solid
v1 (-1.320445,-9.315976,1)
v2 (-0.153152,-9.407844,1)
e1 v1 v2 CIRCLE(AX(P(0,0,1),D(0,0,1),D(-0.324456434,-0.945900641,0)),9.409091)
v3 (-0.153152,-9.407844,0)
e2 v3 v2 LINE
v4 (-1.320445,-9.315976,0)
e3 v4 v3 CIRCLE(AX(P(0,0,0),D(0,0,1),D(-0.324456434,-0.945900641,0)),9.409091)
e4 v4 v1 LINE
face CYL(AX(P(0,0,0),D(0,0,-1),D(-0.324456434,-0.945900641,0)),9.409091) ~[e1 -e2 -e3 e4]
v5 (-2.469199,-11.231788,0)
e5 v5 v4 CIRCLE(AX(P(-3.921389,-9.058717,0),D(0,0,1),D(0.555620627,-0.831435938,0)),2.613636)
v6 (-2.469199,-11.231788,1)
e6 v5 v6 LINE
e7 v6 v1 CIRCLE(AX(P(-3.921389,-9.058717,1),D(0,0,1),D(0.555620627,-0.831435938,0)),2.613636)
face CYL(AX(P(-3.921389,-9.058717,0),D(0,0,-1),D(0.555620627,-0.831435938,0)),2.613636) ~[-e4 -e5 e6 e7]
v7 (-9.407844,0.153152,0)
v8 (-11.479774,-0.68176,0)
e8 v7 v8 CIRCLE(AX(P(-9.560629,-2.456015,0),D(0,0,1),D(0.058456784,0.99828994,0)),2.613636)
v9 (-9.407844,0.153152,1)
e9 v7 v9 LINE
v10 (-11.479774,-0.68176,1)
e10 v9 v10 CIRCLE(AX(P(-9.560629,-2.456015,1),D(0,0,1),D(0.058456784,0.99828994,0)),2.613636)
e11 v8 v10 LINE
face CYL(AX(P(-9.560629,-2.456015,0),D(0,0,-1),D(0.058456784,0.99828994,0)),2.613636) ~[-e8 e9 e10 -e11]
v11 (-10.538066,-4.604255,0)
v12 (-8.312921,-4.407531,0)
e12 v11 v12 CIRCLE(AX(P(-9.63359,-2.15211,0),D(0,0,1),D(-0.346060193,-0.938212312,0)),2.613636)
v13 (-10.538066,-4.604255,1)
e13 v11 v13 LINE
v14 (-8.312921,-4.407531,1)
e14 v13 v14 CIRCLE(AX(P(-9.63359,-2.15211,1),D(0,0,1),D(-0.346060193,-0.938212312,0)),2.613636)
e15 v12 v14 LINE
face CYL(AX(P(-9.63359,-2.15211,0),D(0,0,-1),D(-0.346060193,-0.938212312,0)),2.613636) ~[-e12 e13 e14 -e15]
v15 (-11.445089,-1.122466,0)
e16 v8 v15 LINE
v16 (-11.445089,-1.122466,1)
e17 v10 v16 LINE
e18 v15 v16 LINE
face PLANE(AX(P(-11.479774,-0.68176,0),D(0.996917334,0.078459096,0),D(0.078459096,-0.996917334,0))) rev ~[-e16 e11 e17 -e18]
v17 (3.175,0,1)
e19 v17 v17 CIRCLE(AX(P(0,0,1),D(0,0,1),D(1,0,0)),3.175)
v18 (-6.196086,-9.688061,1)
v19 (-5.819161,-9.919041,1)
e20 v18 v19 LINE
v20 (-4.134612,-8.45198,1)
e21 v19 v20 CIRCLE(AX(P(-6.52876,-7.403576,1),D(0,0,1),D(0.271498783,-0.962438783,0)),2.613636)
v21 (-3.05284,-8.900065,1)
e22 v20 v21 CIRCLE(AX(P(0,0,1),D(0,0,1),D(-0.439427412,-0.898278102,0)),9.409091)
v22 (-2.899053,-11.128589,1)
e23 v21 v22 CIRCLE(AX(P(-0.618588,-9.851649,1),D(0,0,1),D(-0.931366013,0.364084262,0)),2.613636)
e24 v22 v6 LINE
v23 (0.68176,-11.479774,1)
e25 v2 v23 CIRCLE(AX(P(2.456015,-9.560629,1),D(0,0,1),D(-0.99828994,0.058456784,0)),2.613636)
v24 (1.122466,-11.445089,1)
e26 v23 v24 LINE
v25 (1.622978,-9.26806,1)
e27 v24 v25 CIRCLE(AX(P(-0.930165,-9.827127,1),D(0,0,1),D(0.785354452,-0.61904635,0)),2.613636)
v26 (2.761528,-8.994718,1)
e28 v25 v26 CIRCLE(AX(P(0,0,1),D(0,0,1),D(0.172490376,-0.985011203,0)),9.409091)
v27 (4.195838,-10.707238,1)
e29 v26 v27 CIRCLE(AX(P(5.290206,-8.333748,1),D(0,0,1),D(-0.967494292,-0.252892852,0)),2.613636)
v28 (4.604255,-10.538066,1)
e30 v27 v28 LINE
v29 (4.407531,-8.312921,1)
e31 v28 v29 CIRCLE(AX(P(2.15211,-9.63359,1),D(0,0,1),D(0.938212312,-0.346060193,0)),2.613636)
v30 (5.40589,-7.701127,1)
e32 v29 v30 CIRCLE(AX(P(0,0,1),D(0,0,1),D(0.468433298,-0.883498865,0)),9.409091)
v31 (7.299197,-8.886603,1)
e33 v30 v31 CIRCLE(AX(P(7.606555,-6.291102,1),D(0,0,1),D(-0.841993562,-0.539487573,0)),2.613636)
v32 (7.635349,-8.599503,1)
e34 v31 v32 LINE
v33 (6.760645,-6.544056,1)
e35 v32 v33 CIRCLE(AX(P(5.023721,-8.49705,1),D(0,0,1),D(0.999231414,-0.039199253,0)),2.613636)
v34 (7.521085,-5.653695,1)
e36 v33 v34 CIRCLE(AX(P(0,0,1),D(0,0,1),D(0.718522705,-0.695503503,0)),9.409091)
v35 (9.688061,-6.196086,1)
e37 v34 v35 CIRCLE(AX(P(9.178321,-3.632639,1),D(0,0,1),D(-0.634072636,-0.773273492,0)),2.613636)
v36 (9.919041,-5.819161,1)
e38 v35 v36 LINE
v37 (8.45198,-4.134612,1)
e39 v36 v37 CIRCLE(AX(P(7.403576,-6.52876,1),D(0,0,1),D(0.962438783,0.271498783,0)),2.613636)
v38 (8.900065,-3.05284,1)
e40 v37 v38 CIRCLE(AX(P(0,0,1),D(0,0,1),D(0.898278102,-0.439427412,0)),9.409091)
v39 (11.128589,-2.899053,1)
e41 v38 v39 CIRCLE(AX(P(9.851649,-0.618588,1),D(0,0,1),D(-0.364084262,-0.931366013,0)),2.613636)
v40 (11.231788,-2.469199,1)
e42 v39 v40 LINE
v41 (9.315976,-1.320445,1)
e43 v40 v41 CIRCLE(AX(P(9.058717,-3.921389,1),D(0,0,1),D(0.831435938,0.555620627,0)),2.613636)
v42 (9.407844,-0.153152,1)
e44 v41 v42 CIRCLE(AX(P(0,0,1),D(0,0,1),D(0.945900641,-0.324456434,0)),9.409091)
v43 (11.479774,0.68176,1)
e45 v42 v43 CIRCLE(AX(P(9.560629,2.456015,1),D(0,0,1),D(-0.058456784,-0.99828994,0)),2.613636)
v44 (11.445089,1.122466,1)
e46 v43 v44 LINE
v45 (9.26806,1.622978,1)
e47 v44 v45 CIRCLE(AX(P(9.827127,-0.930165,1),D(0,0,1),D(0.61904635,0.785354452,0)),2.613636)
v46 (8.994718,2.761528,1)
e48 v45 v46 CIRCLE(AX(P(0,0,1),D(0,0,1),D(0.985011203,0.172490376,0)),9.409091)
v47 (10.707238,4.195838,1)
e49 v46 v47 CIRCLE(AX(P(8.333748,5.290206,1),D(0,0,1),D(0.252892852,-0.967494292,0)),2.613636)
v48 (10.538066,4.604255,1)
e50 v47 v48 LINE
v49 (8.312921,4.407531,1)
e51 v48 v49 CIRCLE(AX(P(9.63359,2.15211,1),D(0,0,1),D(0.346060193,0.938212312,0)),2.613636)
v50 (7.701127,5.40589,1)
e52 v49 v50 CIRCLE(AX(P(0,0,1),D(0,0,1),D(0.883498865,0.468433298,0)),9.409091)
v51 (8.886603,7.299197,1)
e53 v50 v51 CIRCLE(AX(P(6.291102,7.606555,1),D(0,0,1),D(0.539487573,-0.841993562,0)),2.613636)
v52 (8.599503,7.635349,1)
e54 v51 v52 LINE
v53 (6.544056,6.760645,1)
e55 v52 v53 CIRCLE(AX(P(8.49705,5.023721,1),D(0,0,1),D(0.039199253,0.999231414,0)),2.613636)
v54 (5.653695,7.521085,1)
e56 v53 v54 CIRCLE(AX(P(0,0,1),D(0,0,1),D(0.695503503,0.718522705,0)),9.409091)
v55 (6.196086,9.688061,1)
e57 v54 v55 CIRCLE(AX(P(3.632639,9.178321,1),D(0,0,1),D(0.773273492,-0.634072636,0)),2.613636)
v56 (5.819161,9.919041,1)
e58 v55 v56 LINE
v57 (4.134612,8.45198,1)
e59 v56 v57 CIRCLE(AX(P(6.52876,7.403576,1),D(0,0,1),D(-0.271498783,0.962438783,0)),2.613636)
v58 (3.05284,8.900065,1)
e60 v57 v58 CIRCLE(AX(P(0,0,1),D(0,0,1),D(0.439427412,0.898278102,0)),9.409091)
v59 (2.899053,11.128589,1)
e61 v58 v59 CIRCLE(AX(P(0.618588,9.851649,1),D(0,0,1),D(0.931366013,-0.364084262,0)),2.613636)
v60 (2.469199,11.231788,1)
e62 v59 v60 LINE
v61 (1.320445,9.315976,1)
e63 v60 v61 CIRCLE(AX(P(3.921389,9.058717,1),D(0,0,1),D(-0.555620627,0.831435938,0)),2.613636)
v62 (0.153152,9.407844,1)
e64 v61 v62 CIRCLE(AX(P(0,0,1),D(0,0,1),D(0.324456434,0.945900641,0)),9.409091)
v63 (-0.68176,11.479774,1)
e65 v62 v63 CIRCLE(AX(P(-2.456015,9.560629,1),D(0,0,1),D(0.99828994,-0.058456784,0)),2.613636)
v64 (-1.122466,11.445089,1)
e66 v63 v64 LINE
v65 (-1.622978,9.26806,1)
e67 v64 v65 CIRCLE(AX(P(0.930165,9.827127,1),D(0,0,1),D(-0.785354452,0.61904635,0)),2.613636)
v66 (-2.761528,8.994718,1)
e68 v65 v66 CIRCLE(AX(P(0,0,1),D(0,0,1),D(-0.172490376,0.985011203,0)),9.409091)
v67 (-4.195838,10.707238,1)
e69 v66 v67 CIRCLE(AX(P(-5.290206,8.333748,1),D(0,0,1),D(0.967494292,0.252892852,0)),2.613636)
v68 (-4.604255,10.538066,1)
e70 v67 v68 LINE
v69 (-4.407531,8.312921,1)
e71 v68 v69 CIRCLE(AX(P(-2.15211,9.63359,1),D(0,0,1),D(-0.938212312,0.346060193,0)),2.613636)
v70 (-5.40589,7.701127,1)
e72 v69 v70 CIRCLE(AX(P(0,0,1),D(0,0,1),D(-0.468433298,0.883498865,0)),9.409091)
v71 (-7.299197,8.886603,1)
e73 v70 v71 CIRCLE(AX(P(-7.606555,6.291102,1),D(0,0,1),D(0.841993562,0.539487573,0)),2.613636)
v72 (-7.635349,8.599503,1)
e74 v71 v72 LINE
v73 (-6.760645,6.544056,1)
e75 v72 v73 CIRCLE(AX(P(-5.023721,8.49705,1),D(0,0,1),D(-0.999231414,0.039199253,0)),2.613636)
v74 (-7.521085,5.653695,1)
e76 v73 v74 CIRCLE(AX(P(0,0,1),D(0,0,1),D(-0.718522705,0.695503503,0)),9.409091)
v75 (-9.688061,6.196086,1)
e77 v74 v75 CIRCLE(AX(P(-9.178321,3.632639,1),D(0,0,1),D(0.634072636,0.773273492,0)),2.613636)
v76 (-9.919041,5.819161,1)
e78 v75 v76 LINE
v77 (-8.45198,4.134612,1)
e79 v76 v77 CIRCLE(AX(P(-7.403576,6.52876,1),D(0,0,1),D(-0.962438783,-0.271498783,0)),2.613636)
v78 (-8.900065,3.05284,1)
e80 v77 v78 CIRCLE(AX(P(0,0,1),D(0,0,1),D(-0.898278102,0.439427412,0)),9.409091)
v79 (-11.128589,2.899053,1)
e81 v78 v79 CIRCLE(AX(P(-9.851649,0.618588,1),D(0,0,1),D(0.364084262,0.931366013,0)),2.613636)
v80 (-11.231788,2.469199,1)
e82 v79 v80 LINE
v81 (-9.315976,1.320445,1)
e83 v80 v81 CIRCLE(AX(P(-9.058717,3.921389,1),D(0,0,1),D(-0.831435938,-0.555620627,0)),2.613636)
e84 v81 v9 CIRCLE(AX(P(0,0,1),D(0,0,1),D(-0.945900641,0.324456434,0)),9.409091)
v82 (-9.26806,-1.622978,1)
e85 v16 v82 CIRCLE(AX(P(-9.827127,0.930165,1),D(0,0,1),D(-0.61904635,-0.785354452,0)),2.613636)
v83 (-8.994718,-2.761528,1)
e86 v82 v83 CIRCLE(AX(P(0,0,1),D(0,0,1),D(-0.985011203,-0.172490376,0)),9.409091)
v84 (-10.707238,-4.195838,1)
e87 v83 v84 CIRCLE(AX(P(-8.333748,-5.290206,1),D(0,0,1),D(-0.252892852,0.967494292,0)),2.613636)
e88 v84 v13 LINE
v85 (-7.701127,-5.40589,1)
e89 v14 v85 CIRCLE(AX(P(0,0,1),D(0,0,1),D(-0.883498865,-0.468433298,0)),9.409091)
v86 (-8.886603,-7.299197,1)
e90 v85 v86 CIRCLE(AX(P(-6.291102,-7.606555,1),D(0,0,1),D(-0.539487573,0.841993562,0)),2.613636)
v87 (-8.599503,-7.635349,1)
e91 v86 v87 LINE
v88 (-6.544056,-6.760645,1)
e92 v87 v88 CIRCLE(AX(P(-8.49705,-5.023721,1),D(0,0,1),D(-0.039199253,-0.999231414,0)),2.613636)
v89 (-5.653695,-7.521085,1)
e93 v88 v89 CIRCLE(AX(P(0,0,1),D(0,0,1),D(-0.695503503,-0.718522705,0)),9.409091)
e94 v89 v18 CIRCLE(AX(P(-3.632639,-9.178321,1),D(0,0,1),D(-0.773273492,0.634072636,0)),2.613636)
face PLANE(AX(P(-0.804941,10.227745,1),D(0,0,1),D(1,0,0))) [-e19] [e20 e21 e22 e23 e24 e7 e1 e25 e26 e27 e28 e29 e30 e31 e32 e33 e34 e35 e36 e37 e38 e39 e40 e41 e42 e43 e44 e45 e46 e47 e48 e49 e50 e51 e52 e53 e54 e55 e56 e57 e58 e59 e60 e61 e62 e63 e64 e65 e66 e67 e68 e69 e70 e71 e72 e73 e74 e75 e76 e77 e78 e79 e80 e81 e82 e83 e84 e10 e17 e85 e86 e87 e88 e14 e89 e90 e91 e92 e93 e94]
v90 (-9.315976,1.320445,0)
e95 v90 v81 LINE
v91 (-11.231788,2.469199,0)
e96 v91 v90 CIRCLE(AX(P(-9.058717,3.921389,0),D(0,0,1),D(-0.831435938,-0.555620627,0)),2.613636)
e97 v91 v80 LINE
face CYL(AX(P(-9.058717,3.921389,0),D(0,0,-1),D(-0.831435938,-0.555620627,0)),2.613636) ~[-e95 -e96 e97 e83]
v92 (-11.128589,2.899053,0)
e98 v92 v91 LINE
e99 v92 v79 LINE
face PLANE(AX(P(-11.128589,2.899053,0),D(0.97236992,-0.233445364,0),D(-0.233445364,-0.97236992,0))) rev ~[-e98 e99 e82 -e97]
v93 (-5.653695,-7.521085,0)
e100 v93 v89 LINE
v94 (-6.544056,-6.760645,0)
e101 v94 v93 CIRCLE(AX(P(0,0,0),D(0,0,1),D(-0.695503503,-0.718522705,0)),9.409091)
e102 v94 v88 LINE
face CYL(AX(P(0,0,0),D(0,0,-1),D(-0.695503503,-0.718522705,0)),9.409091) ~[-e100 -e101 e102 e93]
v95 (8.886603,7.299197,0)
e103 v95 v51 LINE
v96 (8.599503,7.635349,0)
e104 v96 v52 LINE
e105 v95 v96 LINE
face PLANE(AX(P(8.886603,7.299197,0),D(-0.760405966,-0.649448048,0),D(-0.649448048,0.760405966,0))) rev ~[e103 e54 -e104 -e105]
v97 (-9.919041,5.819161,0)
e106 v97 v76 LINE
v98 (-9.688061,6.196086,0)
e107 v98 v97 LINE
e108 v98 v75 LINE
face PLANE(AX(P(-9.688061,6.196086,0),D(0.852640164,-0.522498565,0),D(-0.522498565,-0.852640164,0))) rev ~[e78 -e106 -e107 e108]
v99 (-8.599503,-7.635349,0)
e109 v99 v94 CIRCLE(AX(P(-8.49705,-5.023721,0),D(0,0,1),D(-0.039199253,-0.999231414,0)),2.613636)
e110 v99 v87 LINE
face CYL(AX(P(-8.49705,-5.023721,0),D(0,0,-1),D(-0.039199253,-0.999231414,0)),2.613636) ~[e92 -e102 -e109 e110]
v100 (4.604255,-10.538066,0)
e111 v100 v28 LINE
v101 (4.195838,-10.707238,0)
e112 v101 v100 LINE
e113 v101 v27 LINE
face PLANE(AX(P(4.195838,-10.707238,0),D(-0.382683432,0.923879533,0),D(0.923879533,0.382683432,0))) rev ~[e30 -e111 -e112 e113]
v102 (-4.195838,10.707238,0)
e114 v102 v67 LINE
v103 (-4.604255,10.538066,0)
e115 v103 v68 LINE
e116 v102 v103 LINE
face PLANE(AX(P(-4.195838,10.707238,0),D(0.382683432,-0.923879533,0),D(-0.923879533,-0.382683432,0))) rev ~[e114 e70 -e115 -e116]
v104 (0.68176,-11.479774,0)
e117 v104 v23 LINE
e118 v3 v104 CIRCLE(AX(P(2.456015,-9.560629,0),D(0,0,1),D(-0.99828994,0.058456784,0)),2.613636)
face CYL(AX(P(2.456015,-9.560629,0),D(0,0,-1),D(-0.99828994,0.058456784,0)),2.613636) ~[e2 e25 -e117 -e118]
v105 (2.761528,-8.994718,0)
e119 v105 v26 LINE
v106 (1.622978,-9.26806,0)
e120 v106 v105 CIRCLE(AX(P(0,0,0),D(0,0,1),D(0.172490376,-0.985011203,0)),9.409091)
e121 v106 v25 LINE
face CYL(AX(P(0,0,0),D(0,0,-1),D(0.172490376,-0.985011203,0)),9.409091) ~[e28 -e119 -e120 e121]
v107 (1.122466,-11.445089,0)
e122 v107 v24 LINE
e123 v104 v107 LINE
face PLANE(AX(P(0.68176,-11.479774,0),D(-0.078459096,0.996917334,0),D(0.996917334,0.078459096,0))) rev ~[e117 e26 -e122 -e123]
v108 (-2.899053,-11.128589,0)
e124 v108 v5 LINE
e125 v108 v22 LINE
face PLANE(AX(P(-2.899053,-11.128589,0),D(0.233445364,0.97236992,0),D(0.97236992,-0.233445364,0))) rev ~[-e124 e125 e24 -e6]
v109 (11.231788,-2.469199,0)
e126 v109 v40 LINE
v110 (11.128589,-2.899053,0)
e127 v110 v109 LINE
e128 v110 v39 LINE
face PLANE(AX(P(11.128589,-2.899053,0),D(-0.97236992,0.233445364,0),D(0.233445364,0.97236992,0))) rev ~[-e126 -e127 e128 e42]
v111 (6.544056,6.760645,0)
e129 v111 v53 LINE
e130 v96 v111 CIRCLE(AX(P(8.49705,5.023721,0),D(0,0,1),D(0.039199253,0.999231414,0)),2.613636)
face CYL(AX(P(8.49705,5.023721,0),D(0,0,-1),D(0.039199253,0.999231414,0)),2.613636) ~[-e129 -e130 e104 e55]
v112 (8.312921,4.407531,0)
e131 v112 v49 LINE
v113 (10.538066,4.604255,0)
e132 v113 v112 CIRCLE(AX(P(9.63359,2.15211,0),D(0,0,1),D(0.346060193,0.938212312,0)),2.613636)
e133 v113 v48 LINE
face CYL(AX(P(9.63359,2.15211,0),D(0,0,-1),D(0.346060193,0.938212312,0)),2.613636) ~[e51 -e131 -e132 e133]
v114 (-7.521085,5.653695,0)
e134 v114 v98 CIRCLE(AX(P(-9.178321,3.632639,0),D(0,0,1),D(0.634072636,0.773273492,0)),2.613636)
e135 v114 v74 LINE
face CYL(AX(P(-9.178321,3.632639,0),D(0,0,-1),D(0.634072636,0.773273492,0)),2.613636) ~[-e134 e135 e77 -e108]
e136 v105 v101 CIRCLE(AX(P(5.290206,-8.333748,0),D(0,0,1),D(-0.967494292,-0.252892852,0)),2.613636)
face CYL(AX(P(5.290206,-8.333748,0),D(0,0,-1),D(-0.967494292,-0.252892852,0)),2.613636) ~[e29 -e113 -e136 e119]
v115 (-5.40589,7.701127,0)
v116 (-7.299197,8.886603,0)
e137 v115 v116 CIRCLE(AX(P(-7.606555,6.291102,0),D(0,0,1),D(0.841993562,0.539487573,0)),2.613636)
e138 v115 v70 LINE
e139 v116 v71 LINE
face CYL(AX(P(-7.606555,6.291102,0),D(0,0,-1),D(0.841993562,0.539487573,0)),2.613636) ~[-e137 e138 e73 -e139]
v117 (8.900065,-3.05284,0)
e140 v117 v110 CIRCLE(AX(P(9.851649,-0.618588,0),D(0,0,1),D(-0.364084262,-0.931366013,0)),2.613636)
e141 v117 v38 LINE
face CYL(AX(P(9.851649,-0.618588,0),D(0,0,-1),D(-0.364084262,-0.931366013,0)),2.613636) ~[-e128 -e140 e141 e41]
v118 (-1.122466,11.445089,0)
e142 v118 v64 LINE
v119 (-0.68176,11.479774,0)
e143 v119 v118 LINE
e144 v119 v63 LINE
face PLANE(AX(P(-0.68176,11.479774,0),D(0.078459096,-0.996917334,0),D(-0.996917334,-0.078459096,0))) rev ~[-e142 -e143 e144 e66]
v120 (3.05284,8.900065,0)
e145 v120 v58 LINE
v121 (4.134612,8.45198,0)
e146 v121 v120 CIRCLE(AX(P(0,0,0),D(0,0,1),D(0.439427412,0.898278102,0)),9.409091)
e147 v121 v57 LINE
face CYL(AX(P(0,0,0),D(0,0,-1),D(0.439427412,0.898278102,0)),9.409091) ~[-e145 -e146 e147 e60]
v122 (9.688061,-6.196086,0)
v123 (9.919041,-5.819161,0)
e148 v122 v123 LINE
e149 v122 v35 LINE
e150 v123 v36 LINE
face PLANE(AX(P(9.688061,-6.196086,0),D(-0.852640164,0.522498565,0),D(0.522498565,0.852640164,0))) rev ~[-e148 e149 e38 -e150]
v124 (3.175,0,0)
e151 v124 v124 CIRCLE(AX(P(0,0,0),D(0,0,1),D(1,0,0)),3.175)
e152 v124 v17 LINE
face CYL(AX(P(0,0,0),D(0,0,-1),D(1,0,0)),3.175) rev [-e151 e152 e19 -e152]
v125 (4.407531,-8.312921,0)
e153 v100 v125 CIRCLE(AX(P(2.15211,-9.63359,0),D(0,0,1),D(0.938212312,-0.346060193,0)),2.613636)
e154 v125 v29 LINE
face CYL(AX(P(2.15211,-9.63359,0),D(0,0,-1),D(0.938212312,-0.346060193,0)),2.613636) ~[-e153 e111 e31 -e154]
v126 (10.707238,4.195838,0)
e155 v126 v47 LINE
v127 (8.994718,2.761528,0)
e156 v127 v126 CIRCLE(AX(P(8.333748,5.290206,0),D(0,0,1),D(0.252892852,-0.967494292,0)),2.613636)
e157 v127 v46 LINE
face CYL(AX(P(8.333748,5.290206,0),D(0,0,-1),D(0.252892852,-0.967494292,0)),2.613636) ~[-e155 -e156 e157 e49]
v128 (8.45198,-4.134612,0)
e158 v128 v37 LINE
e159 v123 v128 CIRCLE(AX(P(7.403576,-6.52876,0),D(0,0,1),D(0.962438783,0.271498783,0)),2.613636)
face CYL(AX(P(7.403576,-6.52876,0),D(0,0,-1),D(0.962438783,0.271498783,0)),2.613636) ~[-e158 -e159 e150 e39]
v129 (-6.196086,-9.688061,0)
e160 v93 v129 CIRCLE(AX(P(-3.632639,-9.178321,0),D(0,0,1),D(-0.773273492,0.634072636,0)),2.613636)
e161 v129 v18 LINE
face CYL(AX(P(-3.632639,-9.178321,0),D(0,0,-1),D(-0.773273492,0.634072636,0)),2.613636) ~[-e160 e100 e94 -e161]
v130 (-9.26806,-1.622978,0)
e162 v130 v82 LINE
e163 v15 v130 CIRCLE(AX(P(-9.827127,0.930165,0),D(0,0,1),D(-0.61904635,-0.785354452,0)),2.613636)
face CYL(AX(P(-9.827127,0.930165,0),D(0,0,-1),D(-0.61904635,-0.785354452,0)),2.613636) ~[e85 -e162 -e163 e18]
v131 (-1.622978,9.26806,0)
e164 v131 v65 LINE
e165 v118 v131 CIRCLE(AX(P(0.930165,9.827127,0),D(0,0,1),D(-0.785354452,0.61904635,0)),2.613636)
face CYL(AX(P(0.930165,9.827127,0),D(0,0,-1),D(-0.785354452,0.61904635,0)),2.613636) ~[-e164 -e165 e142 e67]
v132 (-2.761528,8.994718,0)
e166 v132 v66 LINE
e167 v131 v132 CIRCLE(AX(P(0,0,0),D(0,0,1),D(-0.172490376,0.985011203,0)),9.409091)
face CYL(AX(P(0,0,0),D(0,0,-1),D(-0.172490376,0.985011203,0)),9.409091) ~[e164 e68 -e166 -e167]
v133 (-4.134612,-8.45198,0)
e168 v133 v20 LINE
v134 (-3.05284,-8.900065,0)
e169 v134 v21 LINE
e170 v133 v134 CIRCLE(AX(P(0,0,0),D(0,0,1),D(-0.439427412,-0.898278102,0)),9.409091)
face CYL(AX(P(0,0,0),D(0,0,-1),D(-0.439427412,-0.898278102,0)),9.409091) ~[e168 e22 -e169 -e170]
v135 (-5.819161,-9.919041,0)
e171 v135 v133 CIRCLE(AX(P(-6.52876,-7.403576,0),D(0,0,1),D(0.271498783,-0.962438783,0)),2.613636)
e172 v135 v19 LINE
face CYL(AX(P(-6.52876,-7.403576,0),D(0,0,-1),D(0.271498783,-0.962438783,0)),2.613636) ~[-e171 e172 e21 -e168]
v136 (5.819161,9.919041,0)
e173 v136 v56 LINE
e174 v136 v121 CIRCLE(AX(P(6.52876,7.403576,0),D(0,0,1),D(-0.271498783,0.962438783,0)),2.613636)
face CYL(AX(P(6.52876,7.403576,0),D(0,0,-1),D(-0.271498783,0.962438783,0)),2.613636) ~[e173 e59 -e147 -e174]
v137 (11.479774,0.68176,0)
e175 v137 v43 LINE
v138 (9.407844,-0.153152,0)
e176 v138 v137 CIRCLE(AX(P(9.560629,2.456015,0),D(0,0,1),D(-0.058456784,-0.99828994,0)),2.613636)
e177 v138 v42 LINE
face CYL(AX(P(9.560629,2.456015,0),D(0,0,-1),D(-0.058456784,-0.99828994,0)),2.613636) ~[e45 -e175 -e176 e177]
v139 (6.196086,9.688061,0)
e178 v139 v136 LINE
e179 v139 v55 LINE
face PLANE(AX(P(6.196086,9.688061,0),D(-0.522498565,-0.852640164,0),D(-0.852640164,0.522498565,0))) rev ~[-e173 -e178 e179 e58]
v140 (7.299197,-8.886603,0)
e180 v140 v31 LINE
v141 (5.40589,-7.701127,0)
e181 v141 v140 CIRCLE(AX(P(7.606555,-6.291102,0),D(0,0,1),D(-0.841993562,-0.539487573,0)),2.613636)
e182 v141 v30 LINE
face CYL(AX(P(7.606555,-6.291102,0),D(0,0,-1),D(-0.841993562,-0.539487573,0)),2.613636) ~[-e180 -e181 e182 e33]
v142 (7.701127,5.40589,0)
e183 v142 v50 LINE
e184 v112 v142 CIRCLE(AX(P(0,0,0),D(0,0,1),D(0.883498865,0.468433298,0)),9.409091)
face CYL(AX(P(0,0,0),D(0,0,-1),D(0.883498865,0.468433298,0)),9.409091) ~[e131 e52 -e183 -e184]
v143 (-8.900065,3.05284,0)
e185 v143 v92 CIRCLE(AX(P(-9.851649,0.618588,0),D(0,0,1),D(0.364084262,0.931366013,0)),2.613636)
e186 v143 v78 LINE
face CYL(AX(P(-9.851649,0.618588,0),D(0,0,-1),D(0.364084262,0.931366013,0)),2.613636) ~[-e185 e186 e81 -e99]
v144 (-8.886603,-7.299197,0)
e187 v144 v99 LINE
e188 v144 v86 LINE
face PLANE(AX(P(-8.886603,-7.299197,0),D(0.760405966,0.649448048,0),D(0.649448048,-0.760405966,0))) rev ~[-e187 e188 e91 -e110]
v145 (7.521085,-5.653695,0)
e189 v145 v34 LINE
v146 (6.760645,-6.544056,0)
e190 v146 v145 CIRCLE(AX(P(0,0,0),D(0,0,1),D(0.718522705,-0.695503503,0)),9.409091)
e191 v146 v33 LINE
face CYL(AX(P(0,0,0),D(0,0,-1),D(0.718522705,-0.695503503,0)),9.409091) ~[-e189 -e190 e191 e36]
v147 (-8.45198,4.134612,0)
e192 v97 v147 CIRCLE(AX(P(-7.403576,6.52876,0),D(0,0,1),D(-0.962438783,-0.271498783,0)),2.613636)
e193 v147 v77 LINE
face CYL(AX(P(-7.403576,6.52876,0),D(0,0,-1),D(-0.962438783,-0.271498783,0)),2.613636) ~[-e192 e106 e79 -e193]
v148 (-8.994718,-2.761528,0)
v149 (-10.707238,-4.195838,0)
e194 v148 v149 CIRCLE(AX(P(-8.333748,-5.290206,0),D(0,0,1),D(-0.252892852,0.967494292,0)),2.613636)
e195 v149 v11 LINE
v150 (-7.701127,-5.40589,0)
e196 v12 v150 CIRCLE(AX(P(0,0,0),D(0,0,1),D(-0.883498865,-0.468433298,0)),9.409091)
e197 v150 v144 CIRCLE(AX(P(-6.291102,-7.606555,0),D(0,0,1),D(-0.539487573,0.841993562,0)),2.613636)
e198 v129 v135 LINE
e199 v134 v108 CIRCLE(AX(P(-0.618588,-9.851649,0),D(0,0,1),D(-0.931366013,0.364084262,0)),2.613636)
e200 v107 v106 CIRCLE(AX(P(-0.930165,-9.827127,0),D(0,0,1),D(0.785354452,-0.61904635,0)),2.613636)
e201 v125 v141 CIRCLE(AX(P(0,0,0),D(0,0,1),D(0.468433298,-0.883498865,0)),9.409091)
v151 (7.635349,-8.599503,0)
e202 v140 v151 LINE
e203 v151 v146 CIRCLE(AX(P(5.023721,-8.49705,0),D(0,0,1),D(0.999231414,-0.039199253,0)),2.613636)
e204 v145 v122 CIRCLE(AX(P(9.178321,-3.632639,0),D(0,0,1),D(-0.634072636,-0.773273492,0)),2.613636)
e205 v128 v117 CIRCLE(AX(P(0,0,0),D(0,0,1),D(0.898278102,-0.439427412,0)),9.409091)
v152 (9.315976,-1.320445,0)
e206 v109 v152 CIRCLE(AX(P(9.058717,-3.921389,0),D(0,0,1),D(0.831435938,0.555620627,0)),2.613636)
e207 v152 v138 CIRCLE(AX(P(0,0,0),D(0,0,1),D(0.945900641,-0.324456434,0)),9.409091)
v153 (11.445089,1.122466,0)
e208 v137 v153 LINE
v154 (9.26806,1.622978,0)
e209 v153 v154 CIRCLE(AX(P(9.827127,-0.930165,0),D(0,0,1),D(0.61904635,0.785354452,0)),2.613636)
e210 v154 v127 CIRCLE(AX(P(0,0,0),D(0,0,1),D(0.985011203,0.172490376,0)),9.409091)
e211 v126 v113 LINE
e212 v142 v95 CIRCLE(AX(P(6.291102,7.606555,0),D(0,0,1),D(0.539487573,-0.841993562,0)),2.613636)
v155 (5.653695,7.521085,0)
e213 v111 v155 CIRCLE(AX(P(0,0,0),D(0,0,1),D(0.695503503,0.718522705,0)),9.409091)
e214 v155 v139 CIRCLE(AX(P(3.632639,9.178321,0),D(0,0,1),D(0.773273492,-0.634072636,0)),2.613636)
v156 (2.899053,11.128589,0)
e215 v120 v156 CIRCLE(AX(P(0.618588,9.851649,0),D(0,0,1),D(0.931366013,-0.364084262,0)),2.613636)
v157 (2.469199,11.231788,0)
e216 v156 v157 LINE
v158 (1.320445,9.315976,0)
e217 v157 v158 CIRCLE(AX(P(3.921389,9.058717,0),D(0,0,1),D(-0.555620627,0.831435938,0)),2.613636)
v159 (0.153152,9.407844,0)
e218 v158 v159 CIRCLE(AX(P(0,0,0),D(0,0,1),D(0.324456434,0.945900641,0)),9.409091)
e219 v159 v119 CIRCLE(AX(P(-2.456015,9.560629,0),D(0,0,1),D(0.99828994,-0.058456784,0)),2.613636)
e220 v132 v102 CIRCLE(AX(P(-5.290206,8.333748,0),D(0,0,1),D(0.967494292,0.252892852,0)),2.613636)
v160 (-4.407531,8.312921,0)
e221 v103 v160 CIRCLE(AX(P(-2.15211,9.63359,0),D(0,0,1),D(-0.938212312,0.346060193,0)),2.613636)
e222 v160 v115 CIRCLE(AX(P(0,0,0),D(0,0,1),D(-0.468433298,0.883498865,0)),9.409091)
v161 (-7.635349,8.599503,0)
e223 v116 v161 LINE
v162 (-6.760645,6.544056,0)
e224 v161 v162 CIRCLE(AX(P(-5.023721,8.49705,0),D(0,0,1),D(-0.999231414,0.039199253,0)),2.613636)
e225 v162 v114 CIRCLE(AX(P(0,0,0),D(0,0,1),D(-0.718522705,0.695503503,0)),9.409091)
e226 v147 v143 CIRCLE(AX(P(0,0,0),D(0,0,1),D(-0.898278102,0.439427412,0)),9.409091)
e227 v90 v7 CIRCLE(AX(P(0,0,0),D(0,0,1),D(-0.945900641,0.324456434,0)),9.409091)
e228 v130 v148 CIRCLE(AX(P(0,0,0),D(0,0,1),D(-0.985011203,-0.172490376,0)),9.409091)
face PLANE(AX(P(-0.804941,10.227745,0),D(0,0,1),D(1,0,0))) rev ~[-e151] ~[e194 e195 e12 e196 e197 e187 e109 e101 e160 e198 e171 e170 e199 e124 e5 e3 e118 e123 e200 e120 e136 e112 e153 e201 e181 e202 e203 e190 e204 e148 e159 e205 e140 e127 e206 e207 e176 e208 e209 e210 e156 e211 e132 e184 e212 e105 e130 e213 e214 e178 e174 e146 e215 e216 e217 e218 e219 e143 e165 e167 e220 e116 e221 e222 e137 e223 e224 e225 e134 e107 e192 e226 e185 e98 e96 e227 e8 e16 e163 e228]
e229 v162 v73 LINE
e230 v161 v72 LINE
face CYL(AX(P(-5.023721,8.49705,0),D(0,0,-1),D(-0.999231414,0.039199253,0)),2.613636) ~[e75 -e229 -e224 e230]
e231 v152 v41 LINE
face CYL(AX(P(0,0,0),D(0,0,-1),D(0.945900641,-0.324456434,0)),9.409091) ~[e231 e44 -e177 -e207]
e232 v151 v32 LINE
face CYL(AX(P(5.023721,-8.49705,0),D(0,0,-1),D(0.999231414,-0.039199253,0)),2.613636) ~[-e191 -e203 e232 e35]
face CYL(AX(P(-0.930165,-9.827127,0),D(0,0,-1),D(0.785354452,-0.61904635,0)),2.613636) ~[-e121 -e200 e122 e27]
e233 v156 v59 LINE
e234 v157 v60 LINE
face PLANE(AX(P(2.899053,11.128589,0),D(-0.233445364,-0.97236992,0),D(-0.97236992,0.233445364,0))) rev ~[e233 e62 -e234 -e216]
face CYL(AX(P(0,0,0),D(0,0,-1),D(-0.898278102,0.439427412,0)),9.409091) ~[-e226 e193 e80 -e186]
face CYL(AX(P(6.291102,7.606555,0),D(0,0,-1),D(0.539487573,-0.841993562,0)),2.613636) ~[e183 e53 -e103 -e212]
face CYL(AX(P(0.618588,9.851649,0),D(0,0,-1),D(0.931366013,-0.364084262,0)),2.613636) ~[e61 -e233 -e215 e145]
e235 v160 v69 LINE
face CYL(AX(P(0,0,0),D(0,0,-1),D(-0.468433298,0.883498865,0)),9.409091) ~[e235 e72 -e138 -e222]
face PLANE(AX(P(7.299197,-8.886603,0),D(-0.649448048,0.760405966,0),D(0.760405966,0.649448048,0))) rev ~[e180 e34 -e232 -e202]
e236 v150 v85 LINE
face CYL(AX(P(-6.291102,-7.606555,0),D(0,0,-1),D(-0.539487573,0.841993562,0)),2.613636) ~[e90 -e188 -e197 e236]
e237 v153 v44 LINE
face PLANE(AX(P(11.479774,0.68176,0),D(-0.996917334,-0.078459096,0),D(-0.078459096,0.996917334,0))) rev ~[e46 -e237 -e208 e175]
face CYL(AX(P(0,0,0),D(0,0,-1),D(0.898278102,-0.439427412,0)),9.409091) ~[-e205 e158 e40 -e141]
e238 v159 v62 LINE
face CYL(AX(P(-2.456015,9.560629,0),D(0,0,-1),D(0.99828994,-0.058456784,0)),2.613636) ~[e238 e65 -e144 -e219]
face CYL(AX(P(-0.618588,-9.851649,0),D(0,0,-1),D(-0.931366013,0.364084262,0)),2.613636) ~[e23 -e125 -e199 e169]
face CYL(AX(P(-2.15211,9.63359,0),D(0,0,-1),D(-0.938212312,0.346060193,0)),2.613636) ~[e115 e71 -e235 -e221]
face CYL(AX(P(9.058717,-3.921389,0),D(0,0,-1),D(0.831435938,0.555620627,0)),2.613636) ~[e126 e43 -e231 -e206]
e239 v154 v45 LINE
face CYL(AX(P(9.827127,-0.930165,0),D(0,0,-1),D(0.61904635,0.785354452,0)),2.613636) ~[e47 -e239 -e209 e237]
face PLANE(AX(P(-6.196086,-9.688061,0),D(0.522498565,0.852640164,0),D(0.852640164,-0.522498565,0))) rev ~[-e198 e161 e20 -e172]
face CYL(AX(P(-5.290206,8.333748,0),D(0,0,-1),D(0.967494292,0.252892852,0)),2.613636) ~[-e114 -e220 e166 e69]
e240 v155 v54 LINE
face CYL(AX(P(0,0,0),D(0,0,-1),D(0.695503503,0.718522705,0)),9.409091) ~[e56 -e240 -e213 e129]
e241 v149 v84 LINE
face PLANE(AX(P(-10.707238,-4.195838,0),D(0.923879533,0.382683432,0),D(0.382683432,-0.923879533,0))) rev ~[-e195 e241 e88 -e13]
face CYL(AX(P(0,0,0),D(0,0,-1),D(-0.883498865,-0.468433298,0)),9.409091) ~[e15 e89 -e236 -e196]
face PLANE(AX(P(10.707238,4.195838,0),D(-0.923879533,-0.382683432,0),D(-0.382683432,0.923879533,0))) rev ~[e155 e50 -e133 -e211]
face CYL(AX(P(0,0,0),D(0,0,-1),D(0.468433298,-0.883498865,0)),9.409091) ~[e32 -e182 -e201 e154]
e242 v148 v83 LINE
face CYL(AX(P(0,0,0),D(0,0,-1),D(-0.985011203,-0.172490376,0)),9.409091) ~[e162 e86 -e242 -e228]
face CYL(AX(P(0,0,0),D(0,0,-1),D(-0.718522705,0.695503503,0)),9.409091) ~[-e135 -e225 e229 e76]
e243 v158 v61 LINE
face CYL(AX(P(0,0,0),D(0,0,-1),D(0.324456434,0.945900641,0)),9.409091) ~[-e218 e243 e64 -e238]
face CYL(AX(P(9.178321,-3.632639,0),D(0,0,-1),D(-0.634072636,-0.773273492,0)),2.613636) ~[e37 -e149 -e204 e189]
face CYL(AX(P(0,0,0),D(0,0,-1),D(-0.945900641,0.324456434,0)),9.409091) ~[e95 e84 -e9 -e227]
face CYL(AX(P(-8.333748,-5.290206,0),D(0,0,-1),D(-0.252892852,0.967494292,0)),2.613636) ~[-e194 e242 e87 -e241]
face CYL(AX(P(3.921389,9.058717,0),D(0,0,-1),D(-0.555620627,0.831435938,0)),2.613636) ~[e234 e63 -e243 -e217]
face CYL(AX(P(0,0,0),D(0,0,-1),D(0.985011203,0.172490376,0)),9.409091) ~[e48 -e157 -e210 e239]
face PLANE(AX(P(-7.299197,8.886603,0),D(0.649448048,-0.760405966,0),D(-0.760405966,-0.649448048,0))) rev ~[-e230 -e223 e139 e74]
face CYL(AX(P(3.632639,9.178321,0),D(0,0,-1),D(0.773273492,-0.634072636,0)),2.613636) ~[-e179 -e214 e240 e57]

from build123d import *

# Parameters (mm, degrees)
F1_R     = 3.175
F2_DEPTH = 1


with BuildPart() as f2:
    # F1 (on Top) → F2 (new body)
    with BuildSketch(Plane.XY):
        with BuildLine():
            ThreePointArc((-1.6229776334, 9.2680599554), (-0.7382287643, 9.3800858219), (0.1531520845, 9.4078443957))
            ThreePointArc((0.1531520845, 9.4078443957), (-0.0317997207, 10.5374998224), (-0.6817601701, 11.4797736507))
            Line((-0.6817601701, 11.4797736507), (-1.1224656787, 11.4450893749))
            ThreePointArc((-1.1224656787, 11.4450893749), (-1.6170199342, 10.4127402859), (-1.6229776334, 9.2680599554))
        make_face()
        with BuildLine():
            ThreePointArc((9.4078443957, -0.1531520845), (9.4087792756, -0.0765785786), (9.4090909091, 0))
            ThreePointArc((9.4090909091, 0), (9.3737668631, 0.8145468262), (9.2680599554, 1.6229776334))
            ThreePointArc((9.2680599554, 1.6229776334), (9.1491169783, 2.1965086508), (8.9947183137, 2.7615275108))
            ThreePointArc((8.9947183137, 2.7615275108), (8.6928665104, 3.6007032045), (8.3129211438, 4.4075314852))
            ThreePointArc((8.3129211438, 4.4075314852), (8.0225688191, 4.9162364953), (7.7011265332, 5.4058895526))
            ThreePointArc((7.7011265332, 5.4058895526), (7.1547288581, 6.1107157275), (6.5440556911, 6.7606454461))
            ThreePointArc((6.5440556911, 6.7606454461), (6.1107157275, 7.1547288581), (5.6536948308, 7.52108546))
            ThreePointArc((5.6536948308, 7.52108546), (4.9162364953, 8.0225688191), (4.1346124722, 8.4519803265))
            ThreePointArc((4.1346124722, 8.4519803265), (3.6007032045, 8.6928665104), (3.0528400867, 8.90006512))
            ThreePointArc((3.0528400867, 8.90006512), (2.1965086508, 9.1491169783), (1.320444577, 9.3159764842))
            ThreePointArc((1.320444577, 9.3159764842), (0.7382287643, 9.3800858219), (0.1531520845, 9.4078443957))
            ThreePointArc((0.1531520845, 9.4078443957), (-0.7382287643, 9.3800858219), (-1.6229776334, 9.2680599554))
            ThreePointArc((-1.6229776334, 9.2680599554), (-2.1965086508, 9.1491169783), (-2.7615275108, 8.9947183137))
            ThreePointArc((-2.7615275108, 8.9947183137), (-3.6007032045, 8.6928665104), (-4.4075314852, 8.3129211438))
            ThreePointArc((-4.4075314852, 8.3129211438), (-4.9162364953, 8.0225688191), (-5.4058895526, 7.7011265332))
            ThreePointArc((-5.4058895526, 7.7011265332), (-6.1107157275, 7.1547288581), (-6.7606454461, 6.5440556911))
            ThreePointArc((-6.7606454461, 6.5440556911), (-7.1547288581, 6.1107157275), (-7.52108546, 5.6536948308))
            ThreePointArc((-7.52108546, 5.6536948308), (-8.0225688191, 4.9162364953), (-8.4519803265, 4.1346124722))
            ThreePointArc((-8.4519803265, 4.1346124722), (-8.6928665104, 3.6007032045), (-8.90006512, 3.0528400867))
            ThreePointArc((-8.90006512, 3.0528400867), (-9.1491169783, 2.1965086508), (-9.3159764842, 1.320444577))
            ThreePointArc((-9.3159764842, 1.320444577), (-9.3800858219, 0.7382287643), (-9.4078443957, 0.1531520845))
            ThreePointArc((-9.4078443957, 0.1531520845), (-9.3800858219, -0.7382287643), (-9.2680599554, -1.6229776334))
            ThreePointArc((-9.2680599554, -1.6229776334), (-9.1491169783, -2.1965086508), (-8.9947183137, -2.7615275108))
            ThreePointArc((-8.9947183137, -2.7615275108), (-8.6928665104, -3.6007032045), (-8.3129211438, -4.4075314852))
            ThreePointArc((-8.3129211438, -4.4075314852), (-8.0225688191, -4.9162364953), (-7.7011265332, -5.4058895526))
            ThreePointArc((-7.7011265332, -5.4058895526), (-7.1547288581, -6.1107157275), (-6.5440556911, -6.7606454461))
            ThreePointArc((-6.5440556911, -6.7606454461), (-6.1107157275, -7.1547288581), (-5.6536948308, -7.52108546))
            ThreePointArc((-5.6536948308, -7.52108546), (-4.9162364953, -8.0225688191), (-4.1346124722, -8.4519803265))
            ThreePointArc((-4.1346124722, -8.4519803265), (-3.6007032045, -8.6928665104), (-3.0528400867, -8.90006512))
            ThreePointArc((-3.0528400867, -8.90006512), (-2.1965086508, -9.1491169783), (-1.320444577, -9.3159764842))
            ThreePointArc((-1.320444577, -9.3159764842), (-0.7382287643, -9.3800858219), (-0.1531520845, -9.4078443957))
            ThreePointArc((-0.1531520845, -9.4078443957), (0.7382287643, -9.3800858219), (1.6229776334, -9.2680599554))
            ThreePointArc((1.6229776334, -9.2680599554), (2.1965086508, -9.1491169783), (2.7615275108, -8.9947183137))
            ThreePointArc((2.7615275108, -8.9947183137), (3.6007032045, -8.6928665104), (4.4075314852, -8.3129211438))
            ThreePointArc((4.4075314852, -8.3129211438), (4.9162364953, -8.0225688191), (5.4058895526, -7.7011265332))
            ThreePointArc((5.4058895526, -7.7011265332), (6.1107157275, -7.1547288581), (6.7606454461, -6.5440556911))
            ThreePointArc((6.7606454461, -6.5440556911), (7.1547288581, -6.1107157275), (7.52108546, -5.6536948308))
            ThreePointArc((7.52108546, -5.6536948308), (8.0225688191, -4.9162364953), (8.4519803265, -4.1346124722))
            ThreePointArc((8.4519803265, -4.1346124722), (8.6928665104, -3.6007032045), (8.90006512, -3.0528400867))
            ThreePointArc((8.90006512, -3.0528400867), (9.1491169783, -2.1965086508), (9.3159764842, -1.320444577))
            ThreePointArc((9.3159764842, -1.320444577), (9.3800858219, -0.7382287643), (9.4078443957, -0.1531520845))
        make_face()
        Circle(F1_R, mode=Mode.SUBTRACT)
        with BuildLine():
            ThreePointArc((-4.4075314852, 8.3129211438), (-3.6007032045, 8.6928665104), (-2.7615275108, 8.9947183137))
            ThreePointArc((-2.7615275108, 8.9947183137), (-3.286509855, 10.0119312174), (-4.195837602, 10.7072380574))
            Line((-4.195837602, 10.7072380574), (-4.604255417, 10.5380658593))
            ThreePointArc((-4.604255417, 10.5380658593), (-4.7555910517, 9.4034178615), (-4.4075314852, 8.3129211438))
        make_face()
        with BuildLine():
            ThreePointArc((-6.7606454461, 6.5440556911), (-6.1107157275, 7.1547288581), (-5.4058895526, 7.7011265332))
            ThreePointArc((-5.4058895526, 7.7011265332), (-6.2195135061, 8.5063250277), (-7.2991972152, 8.8866034014))
            Line((-7.2991972152, 8.8866034014), (-7.6353485554, 8.5995030343))
            ThreePointArc((-7.6353485554, 8.5995030343), (-7.428651783, 7.4736233793), (-6.7606454461, 6.5440556911))
        make_face()
        with BuildLine():
            ThreePointArc((-8.4519803265, 4.1346124722), (-8.0225688191, 4.9162364953), (-7.52108546, 5.6536948308))
            ThreePointArc((-7.52108546, 5.6536948308), (-8.5437078414, 6.1680604771), (-9.6880605486, 6.1960860878))
            Line((-9.6880605486, 6.1960860878), (-9.9190405786, 5.8191609361))
            ThreePointArc((-9.9190405786, 5.8191609361), (-9.3745443193, 4.812258569), (-8.4519803265, 4.1346124722))
        make_face()
        with BuildLine():
            ThreePointArc((-9.3159764842, 1.320444577), (-9.1491169783, 2.1965086508), (-8.90006512, 3.0528400867))
            ThreePointArc((-8.90006512, 3.0528400867), (-10.0315845257, 3.2260231917), (-11.1285890147, 2.8990526973))
            Line((-11.1285890147, 2.8990526973), (-11.2317877999, 2.469198821))
            ThreePointArc((-11.2317877999, 2.469198821), (-10.4027911413, 1.679836361), (-9.3159764842, 1.320444577))
        make_face()
        with BuildLine():
            ThreePointArc((-9.2680599554, -1.6229776334), (-9.3800858219, -0.7382287643), (-9.4078443957, 0.1531520845))
            ThreePointArc((-9.4078443957, 0.1531520845), (-10.5374998224, -0.0317997207), (-11.4797736507, -0.6817601701))
            Line((-11.4797736507, -0.6817601701), (-11.4450893749, -1.1224656787))
            ThreePointArc((-11.4450893749, -1.1224656787), (-10.4127402859, -1.6170199342), (-9.2680599554, -1.6229776334))
        make_face()
        with BuildLine():
            ThreePointArc((-10.5380658593, -4.604255417), (-9.4034178615, -4.7555910517), (-8.3129211438, -4.4075314852))
            ThreePointArc((-8.3129211438, -4.4075314852), (-8.6928665104, -3.6007032045), (-8.9947183137, -2.7615275108))
            ThreePointArc((-8.9947183137, -2.7615275108), (-10.0119312174, -3.286509855), (-10.7072380574, -4.195837602))
            Line((-10.7072380574, -4.195837602), (-10.5380658593, -4.604255417))
        make_face()
        with BuildLine():
            ThreePointArc((-8.5995030343, -7.6353485554), (-7.4736233793, -7.428651783), (-6.5440556911, -6.7606454461))
            ThreePointArc((-6.5440556911, -6.7606454461), (-7.1547288581, -6.1107157275), (-7.7011265332, -5.4058895526))
            ThreePointArc((-7.7011265332, -5.4058895526), (-8.5063250277, -6.2195135061), (-8.8866034014, -7.2991972152))
            Line((-8.8866034014, -7.2991972152), (-8.5995030343, -7.6353485554))
        make_face()
        with BuildLine():
            ThreePointArc((-5.8191609361, -9.9190405786), (-4.812258569, -9.3745443193), (-4.1346124722, -8.4519803265))
            ThreePointArc((-4.1346124722, -8.4519803265), (-4.9162364953, -8.0225688191), (-5.6536948308, -7.52108546))
            ThreePointArc((-5.6536948308, -7.52108546), (-6.1680604771, -8.5437078414), (-6.1960860878, -9.6880605486))
            Line((-6.1960860878, -9.6880605486), (-5.8191609361, -9.9190405786))
        make_face()
        with BuildLine():
            ThreePointArc((-2.469198821, -11.2317877999), (-1.679836361, -10.4027911413), (-1.320444577, -9.3159764842))
            ThreePointArc((-1.320444577, -9.3159764842), (-2.1965086508, -9.1491169783), (-3.0528400867, -8.90006512))
            ThreePointArc((-3.0528400867, -8.90006512), (-3.2260231917, -10.0315845257), (-2.8990526973, -11.1285890147))
            Line((-2.8990526973, -11.1285890147), (-2.469198821, -11.2317877999))
        make_face()
        with BuildLine():
            ThreePointArc((1.1224656787, -11.4450893749), (1.6170199342, -10.4127402859), (1.6229776334, -9.2680599554))
            ThreePointArc((1.6229776334, -9.2680599554), (0.7382287643, -9.3800858219), (-0.1531520845, -9.4078443957))
            ThreePointArc((-0.1531520845, -9.4078443957), (0.0317997207, -10.5374998224), (0.6817601701, -11.4797736507))
            Line((0.6817601701, -11.4797736507), (1.1224656787, -11.4450893749))
        make_face()
        with BuildLine():
            ThreePointArc((4.604255417, -10.5380658593), (4.7555910517, -9.4034178615), (4.4075314852, -8.3129211438))
            ThreePointArc((4.4075314852, -8.3129211438), (3.6007032045, -8.6928665104), (2.7615275108, -8.9947183137))
            ThreePointArc((2.7615275108, -8.9947183137), (3.286509855, -10.0119312174), (4.195837602, -10.7072380574))
            Line((4.195837602, -10.7072380574), (4.604255417, -10.5380658593))
        make_face()
        with BuildLine():
            ThreePointArc((7.6353485554, -8.5995030343), (7.428651783, -7.4736233793), (6.7606454461, -6.5440556911))
            ThreePointArc((6.7606454461, -6.5440556911), (6.1107157275, -7.1547288581), (5.4058895526, -7.7011265332))
            ThreePointArc((5.4058895526, -7.7011265332), (6.2195135061, -8.5063250277), (7.2991972152, -8.8866034014))
            Line((7.2991972152, -8.8866034014), (7.6353485554, -8.5995030343))
        make_face()
        with BuildLine():
            ThreePointArc((9.9190405786, -5.8191609361), (9.3745443193, -4.812258569), (8.4519803265, -4.1346124722))
            ThreePointArc((8.4519803265, -4.1346124722), (8.0225688191, -4.9162364953), (7.52108546, -5.6536948308))
            ThreePointArc((7.52108546, -5.6536948308), (8.5437078414, -6.1680604771), (9.6880605486, -6.1960860878))
            Line((9.6880605486, -6.1960860878), (9.9190405786, -5.8191609361))
        make_face()
        with BuildLine():
            ThreePointArc((11.2317877999, -2.469198821), (10.4027911413, -1.679836361), (9.3159764842, -1.320444577))
            ThreePointArc((9.3159764842, -1.320444577), (9.1491169783, -2.1965086508), (8.90006512, -3.0528400867))
            ThreePointArc((8.90006512, -3.0528400867), (10.0315845257, -3.2260231917), (11.1285890147, -2.8990526973))
            Line((11.1285890147, -2.8990526973), (11.2317877999, -2.469198821))
        make_face()
        with BuildLine():
            ThreePointArc((9.2680599554, 1.6229776334), (9.3737668631, 0.8145468262), (9.4090909091, 0))
            ThreePointArc((9.4090909091, 0), (9.4087792756, -0.0765785786), (9.4078443957, -0.1531520845))
            ThreePointArc((9.4078443957, -0.1531520845), (10.5374998224, 0.0317997207), (11.4797736507, 0.6817601701))
            Line((11.4797736507, 0.6817601701), (11.4450893749, 1.1224656787))
            ThreePointArc((11.4450893749, 1.1224656787), (10.4127402859, 1.6170199342), (9.2680599554, 1.6229776334))
        make_face()
        with BuildLine():
            ThreePointArc((8.3129211438, 4.4075314852), (8.6928665104, 3.6007032045), (8.9947183137, 2.7615275108))
            ThreePointArc((8.9947183137, 2.7615275108), (10.0119312174, 3.286509855), (10.7072380574, 4.195837602))
            Line((10.7072380574, 4.195837602), (10.5380658593, 4.604255417))
            ThreePointArc((10.5380658593, 4.604255417), (9.4034178615, 4.7555910517), (8.3129211438, 4.4075314852))
        make_face()
        with BuildLine():
            ThreePointArc((6.5440556911, 6.7606454461), (7.1547288581, 6.1107157275), (7.7011265332, 5.4058895526))
            ThreePointArc((7.7011265332, 5.4058895526), (8.5063250277, 6.2195135061), (8.8866034014, 7.2991972152))
            Line((8.8866034014, 7.2991972152), (8.5995030343, 7.6353485554))
            ThreePointArc((8.5995030343, 7.6353485554), (7.4736233793, 7.428651783), (6.5440556911, 6.7606454461))
        make_face()
        with BuildLine():
            ThreePointArc((4.1346124722, 8.4519803265), (4.9162364953, 8.0225688191), (5.6536948308, 7.52108546))
            ThreePointArc((5.6536948308, 7.52108546), (6.1680604771, 8.5437078414), (6.1960860878, 9.6880605486))
            Line((6.1960860878, 9.6880605486), (5.8191609361, 9.9190405786))
            ThreePointArc((5.8191609361, 9.9190405786), (4.812258569, 9.3745443193), (4.1346124722, 8.4519803265))
        make_face()
        with BuildLine():
            ThreePointArc((1.320444577, 9.3159764842), (2.1965086508, 9.1491169783), (3.0528400867, 8.90006512))
            ThreePointArc((3.0528400867, 8.90006512), (3.2260231917, 10.0315845257), (2.8990526973, 11.1285890147))
            Line((2.8990526973, 11.1285890147), (2.469198821, 11.2317877999))
            ThreePointArc((2.469198821, 11.2317877999), (1.679836361, 10.4027911413), (1.320444577, 9.3159764842))
        make_face()
    extrude(amount=F2_DEPTH)


solid = f2.part
